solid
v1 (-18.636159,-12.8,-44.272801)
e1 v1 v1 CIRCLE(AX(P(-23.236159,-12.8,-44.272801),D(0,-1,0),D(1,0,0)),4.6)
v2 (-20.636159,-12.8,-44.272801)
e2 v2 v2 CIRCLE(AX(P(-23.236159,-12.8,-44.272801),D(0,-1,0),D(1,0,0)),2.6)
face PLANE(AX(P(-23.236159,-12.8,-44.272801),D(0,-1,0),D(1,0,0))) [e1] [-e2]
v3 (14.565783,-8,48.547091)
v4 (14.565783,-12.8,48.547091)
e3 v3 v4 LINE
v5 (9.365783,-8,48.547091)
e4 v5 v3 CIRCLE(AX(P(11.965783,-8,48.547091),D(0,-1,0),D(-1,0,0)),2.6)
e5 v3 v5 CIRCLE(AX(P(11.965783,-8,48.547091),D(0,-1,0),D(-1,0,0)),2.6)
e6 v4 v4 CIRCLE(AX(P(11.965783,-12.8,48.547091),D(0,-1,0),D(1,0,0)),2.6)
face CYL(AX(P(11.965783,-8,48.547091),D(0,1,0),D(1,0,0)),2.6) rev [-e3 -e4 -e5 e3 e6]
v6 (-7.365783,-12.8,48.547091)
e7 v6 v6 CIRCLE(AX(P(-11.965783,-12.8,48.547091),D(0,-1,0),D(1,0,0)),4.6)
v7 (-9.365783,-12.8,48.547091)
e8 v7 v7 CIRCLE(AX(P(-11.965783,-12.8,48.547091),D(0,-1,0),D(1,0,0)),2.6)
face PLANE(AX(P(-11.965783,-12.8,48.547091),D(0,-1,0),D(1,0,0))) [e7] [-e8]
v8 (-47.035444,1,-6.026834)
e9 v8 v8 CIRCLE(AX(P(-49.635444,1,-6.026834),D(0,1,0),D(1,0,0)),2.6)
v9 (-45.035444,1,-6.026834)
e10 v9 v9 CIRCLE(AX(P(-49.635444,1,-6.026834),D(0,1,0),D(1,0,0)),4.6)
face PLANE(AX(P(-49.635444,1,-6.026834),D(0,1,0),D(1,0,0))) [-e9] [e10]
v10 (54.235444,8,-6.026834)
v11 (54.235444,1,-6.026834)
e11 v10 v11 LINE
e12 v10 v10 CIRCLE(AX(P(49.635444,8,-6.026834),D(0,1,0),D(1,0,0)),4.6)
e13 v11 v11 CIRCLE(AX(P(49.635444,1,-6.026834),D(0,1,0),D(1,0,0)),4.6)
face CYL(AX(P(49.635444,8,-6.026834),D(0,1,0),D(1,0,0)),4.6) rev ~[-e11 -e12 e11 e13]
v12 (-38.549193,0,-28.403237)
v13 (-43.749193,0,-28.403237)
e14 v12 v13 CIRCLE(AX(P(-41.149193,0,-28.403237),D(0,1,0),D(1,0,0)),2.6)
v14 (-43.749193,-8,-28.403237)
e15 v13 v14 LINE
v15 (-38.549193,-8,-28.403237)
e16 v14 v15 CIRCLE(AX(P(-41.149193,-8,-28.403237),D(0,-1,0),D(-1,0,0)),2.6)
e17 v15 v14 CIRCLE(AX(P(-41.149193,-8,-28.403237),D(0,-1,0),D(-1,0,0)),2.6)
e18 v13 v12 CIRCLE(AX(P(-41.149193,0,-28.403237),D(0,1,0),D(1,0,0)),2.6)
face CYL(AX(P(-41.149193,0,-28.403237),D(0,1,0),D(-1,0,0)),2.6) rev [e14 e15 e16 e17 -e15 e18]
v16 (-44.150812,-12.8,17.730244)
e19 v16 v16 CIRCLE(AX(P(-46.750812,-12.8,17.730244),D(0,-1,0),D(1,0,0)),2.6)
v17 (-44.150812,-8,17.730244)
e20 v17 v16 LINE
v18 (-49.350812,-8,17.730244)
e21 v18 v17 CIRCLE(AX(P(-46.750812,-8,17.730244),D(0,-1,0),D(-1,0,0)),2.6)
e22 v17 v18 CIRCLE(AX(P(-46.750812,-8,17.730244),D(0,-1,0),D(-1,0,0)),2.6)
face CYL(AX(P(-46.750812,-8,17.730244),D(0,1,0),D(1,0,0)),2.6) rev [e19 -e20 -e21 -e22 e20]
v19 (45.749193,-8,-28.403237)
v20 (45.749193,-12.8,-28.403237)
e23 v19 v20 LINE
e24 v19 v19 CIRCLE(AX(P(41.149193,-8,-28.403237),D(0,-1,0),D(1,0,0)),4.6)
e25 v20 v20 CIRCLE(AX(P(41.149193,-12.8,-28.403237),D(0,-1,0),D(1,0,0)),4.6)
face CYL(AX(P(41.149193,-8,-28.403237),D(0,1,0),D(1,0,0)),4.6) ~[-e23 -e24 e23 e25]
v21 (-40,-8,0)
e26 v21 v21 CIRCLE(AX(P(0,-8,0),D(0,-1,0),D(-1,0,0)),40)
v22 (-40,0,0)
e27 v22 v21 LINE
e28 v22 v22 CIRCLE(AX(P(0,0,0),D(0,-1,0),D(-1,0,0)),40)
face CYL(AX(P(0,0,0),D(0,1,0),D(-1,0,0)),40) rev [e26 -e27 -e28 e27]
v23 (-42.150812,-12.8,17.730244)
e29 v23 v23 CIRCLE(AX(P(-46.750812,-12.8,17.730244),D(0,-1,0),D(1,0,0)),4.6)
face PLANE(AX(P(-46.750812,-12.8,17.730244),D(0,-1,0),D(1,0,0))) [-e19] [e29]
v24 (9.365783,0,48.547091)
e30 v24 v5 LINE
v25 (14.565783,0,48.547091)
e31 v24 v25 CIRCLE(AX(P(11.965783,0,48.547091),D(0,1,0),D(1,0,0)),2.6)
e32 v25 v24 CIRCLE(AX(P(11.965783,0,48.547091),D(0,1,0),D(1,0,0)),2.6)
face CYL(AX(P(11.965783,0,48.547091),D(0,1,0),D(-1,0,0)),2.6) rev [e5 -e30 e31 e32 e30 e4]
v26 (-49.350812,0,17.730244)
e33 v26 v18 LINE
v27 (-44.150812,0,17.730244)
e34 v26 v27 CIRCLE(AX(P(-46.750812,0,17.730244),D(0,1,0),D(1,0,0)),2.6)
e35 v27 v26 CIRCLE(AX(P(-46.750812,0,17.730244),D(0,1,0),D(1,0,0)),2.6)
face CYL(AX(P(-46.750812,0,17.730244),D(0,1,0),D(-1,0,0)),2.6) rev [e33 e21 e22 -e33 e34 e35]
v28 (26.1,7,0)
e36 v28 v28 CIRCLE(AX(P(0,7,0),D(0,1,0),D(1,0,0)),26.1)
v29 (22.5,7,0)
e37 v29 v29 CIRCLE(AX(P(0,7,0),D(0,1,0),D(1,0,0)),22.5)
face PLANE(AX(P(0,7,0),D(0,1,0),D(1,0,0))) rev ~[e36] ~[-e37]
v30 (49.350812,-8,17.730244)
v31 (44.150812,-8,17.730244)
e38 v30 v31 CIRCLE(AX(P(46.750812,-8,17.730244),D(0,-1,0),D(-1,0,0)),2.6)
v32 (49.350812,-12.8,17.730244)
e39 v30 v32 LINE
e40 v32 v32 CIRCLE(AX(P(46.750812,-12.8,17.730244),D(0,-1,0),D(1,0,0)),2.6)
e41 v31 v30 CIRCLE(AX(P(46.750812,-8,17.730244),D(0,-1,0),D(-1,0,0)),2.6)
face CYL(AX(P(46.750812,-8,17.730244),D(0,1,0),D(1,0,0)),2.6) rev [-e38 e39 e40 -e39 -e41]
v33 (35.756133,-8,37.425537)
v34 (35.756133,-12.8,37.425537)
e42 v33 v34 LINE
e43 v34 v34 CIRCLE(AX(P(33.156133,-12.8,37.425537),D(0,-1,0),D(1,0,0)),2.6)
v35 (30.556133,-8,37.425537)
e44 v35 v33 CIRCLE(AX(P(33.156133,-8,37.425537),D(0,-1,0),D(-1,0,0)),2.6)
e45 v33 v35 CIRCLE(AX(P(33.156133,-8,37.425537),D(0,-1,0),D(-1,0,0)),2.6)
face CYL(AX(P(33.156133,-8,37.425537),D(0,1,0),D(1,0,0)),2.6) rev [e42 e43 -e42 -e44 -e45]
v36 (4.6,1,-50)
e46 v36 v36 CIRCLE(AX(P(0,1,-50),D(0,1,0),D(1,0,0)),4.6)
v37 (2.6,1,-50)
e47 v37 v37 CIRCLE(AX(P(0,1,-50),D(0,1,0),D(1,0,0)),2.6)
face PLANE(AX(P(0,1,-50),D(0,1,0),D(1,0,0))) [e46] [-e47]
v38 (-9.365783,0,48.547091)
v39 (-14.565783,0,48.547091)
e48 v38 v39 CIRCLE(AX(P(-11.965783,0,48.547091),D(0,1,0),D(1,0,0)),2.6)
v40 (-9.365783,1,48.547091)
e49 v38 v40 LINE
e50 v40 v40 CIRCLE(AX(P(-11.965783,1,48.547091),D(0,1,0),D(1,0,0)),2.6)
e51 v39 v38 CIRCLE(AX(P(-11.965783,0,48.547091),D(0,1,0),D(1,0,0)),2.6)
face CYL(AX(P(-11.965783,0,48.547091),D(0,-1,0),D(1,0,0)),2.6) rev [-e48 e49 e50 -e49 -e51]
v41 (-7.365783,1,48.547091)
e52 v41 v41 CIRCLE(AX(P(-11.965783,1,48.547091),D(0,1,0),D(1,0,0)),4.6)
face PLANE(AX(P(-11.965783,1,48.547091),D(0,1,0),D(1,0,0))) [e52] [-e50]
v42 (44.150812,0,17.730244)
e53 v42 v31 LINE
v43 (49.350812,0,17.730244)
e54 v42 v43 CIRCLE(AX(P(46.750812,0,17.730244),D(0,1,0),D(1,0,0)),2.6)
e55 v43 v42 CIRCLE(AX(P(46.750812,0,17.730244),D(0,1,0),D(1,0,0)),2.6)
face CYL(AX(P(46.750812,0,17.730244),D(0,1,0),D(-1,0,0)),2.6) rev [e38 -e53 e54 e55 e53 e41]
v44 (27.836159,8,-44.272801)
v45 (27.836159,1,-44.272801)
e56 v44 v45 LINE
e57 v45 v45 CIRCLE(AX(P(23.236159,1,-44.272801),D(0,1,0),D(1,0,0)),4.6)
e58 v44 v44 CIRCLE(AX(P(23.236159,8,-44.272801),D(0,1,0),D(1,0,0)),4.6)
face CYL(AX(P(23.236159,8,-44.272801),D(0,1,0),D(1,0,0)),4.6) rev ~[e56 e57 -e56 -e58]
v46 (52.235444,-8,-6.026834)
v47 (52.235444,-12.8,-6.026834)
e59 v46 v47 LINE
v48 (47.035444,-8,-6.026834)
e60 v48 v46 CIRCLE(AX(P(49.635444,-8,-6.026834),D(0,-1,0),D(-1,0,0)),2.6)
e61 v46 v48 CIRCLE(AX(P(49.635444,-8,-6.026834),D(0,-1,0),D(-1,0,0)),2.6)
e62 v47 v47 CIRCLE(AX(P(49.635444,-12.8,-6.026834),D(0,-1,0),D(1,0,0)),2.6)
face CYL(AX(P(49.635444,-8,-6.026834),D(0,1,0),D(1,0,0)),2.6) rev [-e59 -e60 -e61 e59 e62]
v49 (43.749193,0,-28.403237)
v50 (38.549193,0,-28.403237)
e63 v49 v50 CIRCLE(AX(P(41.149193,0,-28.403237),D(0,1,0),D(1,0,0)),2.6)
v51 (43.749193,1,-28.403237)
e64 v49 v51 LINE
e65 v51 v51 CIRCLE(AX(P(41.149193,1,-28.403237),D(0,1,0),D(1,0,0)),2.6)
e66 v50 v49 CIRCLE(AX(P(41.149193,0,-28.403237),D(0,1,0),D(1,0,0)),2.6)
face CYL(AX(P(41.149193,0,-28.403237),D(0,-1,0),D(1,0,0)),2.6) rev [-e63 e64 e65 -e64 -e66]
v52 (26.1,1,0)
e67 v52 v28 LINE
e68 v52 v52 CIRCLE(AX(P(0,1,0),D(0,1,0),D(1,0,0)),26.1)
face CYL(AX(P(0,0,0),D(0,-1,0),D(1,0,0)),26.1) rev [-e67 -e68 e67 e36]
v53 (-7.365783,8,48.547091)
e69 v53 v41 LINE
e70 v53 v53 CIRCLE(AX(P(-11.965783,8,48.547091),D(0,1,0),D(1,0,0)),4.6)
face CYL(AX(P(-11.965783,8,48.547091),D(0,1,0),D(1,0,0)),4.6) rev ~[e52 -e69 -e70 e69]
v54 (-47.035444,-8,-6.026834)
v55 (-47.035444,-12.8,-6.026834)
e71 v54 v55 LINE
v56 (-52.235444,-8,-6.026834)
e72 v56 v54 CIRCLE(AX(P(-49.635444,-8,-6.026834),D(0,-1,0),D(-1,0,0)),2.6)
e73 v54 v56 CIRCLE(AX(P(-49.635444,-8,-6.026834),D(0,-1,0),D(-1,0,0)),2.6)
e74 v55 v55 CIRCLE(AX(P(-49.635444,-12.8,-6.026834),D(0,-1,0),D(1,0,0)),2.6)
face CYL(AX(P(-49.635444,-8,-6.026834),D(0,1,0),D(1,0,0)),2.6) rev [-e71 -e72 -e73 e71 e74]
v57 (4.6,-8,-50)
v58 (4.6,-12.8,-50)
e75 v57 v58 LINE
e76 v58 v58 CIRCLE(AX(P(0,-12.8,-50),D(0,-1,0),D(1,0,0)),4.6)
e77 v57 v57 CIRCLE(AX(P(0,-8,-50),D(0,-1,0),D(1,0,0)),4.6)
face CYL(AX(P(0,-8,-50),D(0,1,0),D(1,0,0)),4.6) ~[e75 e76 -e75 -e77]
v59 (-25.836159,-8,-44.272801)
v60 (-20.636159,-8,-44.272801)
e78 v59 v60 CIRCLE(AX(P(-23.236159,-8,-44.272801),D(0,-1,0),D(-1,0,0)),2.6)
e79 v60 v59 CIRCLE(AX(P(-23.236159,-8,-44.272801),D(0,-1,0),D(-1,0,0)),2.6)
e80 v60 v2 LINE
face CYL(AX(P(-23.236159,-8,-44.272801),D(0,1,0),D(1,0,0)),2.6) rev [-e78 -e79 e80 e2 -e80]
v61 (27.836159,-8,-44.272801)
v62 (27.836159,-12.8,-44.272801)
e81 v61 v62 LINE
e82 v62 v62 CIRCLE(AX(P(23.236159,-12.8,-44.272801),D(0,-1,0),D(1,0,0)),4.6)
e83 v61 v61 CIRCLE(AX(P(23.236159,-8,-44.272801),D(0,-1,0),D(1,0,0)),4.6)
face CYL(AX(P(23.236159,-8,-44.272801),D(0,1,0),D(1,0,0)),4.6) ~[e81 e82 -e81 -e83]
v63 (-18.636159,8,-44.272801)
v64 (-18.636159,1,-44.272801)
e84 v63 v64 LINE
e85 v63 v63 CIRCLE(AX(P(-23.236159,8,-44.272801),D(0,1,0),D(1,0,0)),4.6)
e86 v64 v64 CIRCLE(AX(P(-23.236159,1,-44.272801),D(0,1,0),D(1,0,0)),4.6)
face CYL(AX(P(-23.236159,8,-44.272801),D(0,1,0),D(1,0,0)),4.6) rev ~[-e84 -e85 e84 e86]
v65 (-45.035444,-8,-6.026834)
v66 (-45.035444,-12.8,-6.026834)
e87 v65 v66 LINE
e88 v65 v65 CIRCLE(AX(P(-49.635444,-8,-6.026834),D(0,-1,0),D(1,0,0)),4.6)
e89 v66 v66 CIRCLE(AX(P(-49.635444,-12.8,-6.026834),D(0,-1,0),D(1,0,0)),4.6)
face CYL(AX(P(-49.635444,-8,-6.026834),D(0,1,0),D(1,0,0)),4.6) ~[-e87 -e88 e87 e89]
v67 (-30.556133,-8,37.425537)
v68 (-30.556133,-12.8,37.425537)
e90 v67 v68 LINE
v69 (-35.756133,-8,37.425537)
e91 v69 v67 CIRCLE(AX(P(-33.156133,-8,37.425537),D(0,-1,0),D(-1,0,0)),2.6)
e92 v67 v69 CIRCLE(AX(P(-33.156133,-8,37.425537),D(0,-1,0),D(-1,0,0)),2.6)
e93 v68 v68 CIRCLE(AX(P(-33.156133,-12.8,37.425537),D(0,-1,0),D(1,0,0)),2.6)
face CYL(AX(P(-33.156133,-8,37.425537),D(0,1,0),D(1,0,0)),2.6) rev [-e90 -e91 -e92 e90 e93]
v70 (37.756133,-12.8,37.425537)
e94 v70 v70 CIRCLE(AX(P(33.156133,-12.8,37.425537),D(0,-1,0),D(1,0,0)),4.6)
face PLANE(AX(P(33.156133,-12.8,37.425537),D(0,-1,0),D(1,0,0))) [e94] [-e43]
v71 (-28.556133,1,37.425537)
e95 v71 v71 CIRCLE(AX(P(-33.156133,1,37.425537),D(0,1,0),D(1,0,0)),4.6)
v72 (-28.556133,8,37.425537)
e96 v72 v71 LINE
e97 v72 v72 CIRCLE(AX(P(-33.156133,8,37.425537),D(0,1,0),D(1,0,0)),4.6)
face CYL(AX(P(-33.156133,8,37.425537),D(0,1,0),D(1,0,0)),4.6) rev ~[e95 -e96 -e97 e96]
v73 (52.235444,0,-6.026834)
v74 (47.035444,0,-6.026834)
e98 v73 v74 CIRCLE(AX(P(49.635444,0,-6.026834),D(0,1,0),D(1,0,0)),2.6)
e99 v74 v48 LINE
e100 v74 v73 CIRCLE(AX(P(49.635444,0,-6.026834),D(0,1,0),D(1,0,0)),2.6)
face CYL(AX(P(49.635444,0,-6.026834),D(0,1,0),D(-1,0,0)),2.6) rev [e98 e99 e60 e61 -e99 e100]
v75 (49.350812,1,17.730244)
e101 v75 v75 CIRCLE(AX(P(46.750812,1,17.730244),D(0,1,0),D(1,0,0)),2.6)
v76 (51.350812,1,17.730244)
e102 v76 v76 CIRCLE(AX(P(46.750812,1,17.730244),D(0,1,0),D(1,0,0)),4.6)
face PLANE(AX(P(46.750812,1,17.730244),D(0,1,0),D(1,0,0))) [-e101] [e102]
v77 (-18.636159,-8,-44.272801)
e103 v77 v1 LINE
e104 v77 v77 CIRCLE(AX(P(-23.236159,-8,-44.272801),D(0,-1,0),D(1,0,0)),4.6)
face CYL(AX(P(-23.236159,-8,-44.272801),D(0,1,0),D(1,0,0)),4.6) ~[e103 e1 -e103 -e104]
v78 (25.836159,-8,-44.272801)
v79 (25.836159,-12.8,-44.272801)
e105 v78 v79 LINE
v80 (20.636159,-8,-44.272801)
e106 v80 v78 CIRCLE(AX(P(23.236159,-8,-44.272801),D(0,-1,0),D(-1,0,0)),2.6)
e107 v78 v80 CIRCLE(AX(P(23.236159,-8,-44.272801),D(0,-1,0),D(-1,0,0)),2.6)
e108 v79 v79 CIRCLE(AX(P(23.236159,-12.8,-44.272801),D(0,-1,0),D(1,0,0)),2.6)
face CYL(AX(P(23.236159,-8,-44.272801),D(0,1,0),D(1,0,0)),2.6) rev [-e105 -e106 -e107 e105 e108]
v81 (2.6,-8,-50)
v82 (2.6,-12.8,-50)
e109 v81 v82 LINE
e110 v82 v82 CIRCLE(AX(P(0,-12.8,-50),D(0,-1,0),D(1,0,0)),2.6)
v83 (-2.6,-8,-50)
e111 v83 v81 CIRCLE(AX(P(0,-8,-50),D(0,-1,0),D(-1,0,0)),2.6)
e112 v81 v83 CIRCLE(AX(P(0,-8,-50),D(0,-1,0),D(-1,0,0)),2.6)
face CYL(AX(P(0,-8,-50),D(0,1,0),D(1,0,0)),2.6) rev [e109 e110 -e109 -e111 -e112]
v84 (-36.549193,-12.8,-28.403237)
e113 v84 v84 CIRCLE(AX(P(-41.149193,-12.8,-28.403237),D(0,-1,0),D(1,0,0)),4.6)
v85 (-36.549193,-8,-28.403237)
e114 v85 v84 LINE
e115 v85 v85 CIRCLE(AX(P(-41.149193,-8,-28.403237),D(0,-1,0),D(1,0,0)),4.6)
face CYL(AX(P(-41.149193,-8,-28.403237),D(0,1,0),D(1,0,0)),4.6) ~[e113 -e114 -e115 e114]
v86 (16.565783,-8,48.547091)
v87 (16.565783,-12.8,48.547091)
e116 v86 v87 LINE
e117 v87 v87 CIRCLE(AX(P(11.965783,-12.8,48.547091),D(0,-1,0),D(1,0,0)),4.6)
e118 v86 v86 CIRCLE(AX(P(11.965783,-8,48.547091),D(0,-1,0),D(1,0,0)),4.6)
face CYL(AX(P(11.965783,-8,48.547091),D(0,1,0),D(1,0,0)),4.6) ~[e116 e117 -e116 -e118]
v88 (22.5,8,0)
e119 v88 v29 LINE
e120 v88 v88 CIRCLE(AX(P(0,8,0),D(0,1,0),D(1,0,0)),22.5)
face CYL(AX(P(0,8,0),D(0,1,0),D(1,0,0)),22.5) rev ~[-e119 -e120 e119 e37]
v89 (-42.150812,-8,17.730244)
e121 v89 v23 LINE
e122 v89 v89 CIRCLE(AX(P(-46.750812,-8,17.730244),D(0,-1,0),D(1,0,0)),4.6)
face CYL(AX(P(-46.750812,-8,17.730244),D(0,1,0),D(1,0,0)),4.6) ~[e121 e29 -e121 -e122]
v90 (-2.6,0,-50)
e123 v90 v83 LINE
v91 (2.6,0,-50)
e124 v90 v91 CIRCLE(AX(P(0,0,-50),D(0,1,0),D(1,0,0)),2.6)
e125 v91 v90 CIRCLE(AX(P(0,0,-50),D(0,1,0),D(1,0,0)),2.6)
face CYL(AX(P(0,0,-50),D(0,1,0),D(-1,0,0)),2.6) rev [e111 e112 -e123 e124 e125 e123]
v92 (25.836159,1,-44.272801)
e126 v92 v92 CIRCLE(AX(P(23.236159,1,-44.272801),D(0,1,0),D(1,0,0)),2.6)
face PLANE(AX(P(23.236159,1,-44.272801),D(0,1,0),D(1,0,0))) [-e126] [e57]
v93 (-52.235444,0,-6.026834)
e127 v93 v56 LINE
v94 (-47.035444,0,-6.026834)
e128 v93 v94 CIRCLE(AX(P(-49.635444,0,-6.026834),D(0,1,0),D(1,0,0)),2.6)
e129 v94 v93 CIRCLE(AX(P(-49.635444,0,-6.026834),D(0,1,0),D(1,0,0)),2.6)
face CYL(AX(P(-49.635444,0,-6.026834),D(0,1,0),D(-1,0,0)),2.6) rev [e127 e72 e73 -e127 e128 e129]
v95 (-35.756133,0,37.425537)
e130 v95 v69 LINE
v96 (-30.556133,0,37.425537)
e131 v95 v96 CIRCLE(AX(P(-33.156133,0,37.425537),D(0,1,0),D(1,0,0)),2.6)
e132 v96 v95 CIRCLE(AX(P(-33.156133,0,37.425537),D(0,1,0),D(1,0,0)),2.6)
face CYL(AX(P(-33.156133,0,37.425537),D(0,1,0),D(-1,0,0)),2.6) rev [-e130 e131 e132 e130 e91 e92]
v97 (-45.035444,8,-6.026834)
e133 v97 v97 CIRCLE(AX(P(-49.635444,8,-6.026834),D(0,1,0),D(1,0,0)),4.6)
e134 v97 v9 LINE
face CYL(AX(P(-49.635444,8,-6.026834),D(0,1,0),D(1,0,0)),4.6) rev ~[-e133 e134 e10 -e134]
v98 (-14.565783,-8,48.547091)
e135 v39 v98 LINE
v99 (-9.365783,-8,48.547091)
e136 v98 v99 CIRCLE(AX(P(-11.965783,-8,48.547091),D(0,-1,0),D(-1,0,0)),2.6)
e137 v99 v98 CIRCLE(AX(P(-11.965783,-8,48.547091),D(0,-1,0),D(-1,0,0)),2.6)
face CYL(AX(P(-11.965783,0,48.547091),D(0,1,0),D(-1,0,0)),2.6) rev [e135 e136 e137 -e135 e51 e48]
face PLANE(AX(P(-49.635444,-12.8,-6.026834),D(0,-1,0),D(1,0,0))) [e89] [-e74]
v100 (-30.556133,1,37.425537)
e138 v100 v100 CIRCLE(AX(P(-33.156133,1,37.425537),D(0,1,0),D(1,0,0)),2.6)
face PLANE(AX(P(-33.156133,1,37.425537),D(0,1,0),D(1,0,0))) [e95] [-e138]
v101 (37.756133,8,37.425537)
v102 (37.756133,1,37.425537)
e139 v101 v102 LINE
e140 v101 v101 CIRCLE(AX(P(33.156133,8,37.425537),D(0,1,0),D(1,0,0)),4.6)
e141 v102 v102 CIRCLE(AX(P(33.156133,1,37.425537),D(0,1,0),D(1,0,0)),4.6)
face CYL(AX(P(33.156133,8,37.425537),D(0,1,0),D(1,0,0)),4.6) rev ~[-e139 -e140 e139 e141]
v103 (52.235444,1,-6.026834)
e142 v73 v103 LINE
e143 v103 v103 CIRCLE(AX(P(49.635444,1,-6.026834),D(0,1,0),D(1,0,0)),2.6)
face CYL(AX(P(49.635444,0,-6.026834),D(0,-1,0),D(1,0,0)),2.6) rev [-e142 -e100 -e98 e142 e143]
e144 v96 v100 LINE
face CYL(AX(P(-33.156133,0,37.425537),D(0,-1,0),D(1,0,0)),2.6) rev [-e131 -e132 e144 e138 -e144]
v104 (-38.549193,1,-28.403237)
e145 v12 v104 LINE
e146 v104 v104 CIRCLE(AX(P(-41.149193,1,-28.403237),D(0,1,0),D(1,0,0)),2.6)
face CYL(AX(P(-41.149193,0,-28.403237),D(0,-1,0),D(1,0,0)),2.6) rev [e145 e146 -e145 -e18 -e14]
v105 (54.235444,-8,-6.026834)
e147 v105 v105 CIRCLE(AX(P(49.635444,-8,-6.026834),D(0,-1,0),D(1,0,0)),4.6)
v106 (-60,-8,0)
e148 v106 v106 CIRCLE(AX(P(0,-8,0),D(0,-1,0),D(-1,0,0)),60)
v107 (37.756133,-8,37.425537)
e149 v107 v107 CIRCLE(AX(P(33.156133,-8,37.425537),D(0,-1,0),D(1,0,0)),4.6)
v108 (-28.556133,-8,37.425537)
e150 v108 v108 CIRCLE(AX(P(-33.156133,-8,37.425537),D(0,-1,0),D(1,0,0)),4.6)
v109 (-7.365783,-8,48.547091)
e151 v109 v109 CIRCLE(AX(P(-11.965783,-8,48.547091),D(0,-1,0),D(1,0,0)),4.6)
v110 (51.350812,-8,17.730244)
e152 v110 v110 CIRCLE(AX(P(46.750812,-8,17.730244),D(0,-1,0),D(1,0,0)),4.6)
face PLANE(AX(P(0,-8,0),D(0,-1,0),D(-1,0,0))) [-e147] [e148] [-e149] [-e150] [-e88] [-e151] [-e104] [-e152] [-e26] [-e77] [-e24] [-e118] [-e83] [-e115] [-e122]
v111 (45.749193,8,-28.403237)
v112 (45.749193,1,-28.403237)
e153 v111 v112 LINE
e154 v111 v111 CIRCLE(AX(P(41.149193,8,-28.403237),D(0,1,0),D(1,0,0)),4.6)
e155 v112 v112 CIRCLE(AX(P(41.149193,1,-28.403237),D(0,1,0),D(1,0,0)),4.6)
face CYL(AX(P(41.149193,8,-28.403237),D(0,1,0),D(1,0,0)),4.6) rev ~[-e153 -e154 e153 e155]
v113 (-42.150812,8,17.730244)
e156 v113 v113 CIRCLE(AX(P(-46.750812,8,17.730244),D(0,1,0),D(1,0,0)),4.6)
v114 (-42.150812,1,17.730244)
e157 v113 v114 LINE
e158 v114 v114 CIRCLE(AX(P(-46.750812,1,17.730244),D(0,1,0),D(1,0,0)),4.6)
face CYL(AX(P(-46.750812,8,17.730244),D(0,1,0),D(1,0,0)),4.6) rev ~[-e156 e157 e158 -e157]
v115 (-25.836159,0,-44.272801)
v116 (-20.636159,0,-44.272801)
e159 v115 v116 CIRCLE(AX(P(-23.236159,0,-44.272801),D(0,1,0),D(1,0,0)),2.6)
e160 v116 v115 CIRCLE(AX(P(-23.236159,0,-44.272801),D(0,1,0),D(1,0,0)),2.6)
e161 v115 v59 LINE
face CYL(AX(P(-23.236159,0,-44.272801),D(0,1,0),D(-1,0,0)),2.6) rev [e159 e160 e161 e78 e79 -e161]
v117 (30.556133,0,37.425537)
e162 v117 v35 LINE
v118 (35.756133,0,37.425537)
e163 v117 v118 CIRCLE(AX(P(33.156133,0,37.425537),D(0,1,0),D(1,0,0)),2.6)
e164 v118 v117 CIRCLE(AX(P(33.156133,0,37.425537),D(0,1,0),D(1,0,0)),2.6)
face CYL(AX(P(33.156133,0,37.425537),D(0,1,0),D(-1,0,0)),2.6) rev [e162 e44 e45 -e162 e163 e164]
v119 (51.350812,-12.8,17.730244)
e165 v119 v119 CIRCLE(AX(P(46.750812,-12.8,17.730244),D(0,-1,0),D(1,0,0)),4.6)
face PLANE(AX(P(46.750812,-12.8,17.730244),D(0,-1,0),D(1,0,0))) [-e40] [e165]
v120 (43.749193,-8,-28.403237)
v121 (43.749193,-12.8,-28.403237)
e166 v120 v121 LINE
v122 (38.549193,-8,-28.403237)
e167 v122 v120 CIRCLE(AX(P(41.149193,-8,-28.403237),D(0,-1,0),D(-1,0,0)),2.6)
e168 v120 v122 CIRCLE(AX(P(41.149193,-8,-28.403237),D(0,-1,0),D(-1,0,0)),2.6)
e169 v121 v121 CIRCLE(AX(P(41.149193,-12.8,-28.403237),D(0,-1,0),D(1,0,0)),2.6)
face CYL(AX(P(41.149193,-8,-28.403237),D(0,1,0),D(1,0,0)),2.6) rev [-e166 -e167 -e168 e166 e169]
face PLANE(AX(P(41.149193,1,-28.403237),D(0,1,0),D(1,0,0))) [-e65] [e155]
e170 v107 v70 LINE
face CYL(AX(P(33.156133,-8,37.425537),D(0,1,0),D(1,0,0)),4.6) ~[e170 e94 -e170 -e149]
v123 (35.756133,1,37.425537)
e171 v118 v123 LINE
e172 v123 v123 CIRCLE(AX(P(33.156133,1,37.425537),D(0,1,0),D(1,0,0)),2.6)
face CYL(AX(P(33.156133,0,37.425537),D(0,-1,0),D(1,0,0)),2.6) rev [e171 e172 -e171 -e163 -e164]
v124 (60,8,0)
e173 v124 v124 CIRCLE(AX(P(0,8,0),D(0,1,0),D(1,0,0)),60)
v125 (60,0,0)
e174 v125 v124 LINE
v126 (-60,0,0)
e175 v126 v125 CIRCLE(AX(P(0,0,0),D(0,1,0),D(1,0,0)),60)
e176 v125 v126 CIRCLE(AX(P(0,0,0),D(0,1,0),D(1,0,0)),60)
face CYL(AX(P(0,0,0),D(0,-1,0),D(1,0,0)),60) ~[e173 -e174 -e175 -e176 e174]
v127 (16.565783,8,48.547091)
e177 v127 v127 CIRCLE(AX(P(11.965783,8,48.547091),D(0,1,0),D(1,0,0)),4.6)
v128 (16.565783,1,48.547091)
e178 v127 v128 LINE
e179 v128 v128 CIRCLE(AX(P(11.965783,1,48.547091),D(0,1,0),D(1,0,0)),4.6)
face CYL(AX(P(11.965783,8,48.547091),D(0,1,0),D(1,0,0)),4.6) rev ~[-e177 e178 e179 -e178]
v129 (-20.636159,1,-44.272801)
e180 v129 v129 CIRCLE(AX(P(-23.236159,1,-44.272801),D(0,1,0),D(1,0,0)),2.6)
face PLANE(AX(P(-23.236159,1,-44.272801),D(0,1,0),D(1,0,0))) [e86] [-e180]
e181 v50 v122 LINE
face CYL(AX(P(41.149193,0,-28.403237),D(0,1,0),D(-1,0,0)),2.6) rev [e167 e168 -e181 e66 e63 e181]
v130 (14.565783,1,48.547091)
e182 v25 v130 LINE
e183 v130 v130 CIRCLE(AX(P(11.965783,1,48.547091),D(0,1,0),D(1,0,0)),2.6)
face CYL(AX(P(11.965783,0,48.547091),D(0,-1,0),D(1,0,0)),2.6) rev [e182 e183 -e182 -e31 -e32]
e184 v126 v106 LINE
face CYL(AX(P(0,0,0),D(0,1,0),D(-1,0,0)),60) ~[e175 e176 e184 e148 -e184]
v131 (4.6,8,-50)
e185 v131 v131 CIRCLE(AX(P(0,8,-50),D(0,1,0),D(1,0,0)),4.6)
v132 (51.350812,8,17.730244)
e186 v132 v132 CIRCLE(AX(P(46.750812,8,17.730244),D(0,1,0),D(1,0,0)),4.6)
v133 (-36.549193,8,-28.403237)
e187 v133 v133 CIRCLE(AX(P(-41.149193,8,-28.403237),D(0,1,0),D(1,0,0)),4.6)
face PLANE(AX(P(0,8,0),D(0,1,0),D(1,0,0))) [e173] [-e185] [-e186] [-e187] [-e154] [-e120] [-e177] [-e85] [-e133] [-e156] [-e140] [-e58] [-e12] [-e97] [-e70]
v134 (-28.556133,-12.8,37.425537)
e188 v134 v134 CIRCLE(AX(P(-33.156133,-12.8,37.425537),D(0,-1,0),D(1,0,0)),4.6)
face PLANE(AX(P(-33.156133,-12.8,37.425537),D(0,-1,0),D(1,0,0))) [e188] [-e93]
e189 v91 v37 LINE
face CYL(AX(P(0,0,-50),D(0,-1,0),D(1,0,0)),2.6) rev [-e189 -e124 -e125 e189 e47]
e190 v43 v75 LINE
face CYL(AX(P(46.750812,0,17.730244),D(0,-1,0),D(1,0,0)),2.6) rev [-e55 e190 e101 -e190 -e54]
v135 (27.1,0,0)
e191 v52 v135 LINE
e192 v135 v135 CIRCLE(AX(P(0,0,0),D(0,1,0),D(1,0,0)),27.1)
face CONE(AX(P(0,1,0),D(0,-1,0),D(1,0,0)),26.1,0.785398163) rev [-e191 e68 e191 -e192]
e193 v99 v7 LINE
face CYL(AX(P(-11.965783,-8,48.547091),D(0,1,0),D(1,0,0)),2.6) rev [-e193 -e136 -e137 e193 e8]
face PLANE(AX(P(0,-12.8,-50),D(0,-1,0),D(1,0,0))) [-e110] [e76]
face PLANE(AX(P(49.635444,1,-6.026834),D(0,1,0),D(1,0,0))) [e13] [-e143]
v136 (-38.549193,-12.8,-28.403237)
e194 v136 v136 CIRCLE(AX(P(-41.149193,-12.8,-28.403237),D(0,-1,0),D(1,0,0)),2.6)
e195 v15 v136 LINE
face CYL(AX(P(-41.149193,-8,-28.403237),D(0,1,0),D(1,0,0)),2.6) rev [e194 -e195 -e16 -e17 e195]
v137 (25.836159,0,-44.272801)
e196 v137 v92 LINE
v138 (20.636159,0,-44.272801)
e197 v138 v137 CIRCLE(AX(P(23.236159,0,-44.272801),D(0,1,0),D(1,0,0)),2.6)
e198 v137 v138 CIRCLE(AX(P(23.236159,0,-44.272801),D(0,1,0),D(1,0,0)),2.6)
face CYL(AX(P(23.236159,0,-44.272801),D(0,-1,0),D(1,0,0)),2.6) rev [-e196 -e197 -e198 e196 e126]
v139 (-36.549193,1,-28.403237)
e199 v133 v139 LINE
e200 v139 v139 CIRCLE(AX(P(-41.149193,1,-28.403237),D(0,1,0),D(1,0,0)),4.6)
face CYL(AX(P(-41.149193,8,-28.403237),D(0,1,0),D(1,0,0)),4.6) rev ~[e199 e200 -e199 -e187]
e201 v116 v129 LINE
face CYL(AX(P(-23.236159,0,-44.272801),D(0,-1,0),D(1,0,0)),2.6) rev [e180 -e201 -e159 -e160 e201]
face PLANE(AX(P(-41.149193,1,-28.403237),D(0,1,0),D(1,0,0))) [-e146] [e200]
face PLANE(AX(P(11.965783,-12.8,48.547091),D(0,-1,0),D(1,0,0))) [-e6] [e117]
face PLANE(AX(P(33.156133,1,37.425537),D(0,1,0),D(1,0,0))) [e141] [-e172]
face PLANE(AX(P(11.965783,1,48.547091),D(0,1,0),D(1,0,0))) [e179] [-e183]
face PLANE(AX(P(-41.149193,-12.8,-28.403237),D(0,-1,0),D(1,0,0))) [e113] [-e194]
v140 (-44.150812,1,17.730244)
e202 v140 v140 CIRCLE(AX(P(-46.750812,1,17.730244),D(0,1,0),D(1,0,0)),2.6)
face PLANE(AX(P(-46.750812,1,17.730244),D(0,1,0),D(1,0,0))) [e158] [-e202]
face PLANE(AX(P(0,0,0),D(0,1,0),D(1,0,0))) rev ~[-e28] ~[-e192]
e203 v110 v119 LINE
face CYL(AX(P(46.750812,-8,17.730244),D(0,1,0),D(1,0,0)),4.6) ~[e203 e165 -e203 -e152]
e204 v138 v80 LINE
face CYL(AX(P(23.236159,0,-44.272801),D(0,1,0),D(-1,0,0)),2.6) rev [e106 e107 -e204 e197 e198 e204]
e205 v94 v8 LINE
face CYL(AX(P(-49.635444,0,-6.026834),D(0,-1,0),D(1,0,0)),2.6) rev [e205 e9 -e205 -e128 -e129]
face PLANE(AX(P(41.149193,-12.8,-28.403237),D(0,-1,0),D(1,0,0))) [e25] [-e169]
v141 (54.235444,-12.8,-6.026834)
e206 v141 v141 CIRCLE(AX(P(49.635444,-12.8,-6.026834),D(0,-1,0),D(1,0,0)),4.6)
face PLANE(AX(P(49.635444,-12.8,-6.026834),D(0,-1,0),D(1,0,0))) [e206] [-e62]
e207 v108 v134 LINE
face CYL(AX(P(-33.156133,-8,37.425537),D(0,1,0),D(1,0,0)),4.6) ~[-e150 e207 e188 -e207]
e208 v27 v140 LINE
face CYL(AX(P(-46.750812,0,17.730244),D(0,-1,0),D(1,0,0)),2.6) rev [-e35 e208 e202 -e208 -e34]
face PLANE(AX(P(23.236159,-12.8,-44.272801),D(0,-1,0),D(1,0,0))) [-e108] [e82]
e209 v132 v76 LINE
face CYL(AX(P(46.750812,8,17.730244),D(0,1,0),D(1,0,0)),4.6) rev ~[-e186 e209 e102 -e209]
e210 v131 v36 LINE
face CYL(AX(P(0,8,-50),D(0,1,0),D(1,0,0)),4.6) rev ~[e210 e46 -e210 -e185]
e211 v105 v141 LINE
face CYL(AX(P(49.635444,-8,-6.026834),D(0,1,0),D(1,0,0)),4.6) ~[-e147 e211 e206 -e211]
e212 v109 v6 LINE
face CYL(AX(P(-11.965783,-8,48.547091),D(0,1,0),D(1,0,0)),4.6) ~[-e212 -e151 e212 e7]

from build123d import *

# Parameters (mm, degrees)
SKETCH1_R           = 60
SKETCH1_R_2         = 26.1
SKETCH1_R_3         = 2.6
BOSS_EXTRUDE1_DEPTH = 8
SKETCH2_R           = 60
SKETCH2_R_2         = 40
SKETCH2_R_3         = 2.6
BOSS_EXTRUDE2_DEPTH = 8
SKETCH3_R           = 4.6
SKETCH3_R_2         = 2.6
BOSS_EXTRUDE3_DEPTH = 4.8
SKETCH4_R           = 26.1
SKETCH4_R_2         = 22.5
BOSS_EXTRUDE4_DEPTH = 1
CHAMFER1_SIZE       = 1
SKETCH5_R           = 4.6
SKETCH5_R_2         = 2.6
CUT_EXTRUDE1_DEPTH  = 7


with BuildPart() as part:
    # Sketch1 → Boss-Extrude1 (new body)
    with BuildSketch(Plane(origin=(0, 0, 0), x_dir=(1, 0, 0), z_dir=(0, 1, 0))):
        Circle(SKETCH1_R)
        Circle(SKETCH1_R_2, mode=Mode.SUBTRACT)
        with Locations((0, 50)):
            Circle(SKETCH1_R_3, mode=Mode.SUBTRACT)
        with Locations((23.236158602, 44.272801283)):
            Circle(SKETCH1_R_3, mode=Mode.SUBTRACT)
        with Locations((41.149193295, 28.403237337)):
            Circle(SKETCH1_R_3, mode=Mode.SUBTRACT)
        with Locations((49.635443705, 6.026834013)):
            Circle(SKETCH1_R_3, mode=Mode.SUBTRACT)
        with Locations((46.750812134, -17.730244352)):
            Circle(SKETCH1_R_3, mode=Mode.SUBTRACT)
        with Locations((33.156132912, -37.425537409)):
            Circle(SKETCH1_R_3, mode=Mode.SUBTRACT)
        with Locations((11.965783214, -48.547090871)):
            Circle(SKETCH1_R_3, mode=Mode.SUBTRACT)
        with Locations((-11.965783214, -48.547090871)):
            Circle(SKETCH1_R_3, mode=Mode.SUBTRACT)
        with Locations((-33.156132912, -37.425537409)):
            Circle(SKETCH1_R_3, mode=Mode.SUBTRACT)
        with Locations((-46.750812134, -17.730244352)):
            Circle(SKETCH1_R_3, mode=Mode.SUBTRACT)
        with Locations((-49.635443705, 6.026834013)):
            Circle(SKETCH1_R_3, mode=Mode.SUBTRACT)
        with Locations((-41.149193295, 28.403237337)):
            Circle(SKETCH1_R_3, mode=Mode.SUBTRACT)
        with Locations((-23.236158602, 44.272801283)):
            Circle(SKETCH1_R_3, mode=Mode.SUBTRACT)
    extrude(amount=BOSS_EXTRUDE1_DEPTH)

    # Sketch2 → Boss-Extrude2 (add)
    with BuildSketch(Plane(origin=(0, 0, 0), x_dir=(-1, 0, 0), z_dir=(0, -1, 0))):
        Circle(SKETCH2_R)
        Circle(SKETCH2_R_2, mode=Mode.SUBTRACT)
        with Locations((23.236158602, 44.272801283)):
            Circle(SKETCH2_R_3, mode=Mode.SUBTRACT)
        with Locations((41.149193295, 28.403237337)):
            Circle(SKETCH2_R_3, mode=Mode.SUBTRACT)
        with Locations((49.635443705, 6.026834013)):
            Circle(SKETCH2_R_3, mode=Mode.SUBTRACT)
        with Locations((46.750812134, -17.730244352)):
            Circle(SKETCH2_R_3, mode=Mode.SUBTRACT)
        with Locations((33.156132912, -37.425537409)):
            Circle(SKETCH2_R_3, mode=Mode.SUBTRACT)
        with Locations((11.965783214, -48.547090871)):
            Circle(SKETCH2_R_3, mode=Mode.SUBTRACT)
        with Locations((-11.965783214, -48.547090871)):
            Circle(SKETCH2_R_3, mode=Mode.SUBTRACT)
        with Locations((-33.156132912, -37.425537409)):
            Circle(SKETCH2_R_3, mode=Mode.SUBTRACT)
        with Locations((-46.750812134, -17.730244352)):
            Circle(SKETCH2_R_3, mode=Mode.SUBTRACT)
        with Locations((-49.635443705, 6.026834013)):
            Circle(SKETCH2_R_3, mode=Mode.SUBTRACT)
        with Locations((-41.149193295, 28.403237337)):
            Circle(SKETCH2_R_3, mode=Mode.SUBTRACT)
        with Locations((-23.236158602, 44.272801283)):
            Circle(SKETCH2_R_3, mode=Mode.SUBTRACT)
        with Locations((0, 50)):
            Circle(SKETCH2_R_3, mode=Mode.SUBTRACT)
    extrude(amount=BOSS_EXTRUDE2_DEPTH)

    # Sketch3 → Boss-Extrude3 (add)
    with BuildSketch(Plane.XZ.offset(8)):
        with Locations((0, -50)):
            Circle(SKETCH3_R)
        with Locations((0, -50)):
            Circle(SKETCH3_R_2, mode=Mode.SUBTRACT)
        with Locations((41.149193295, -28.403237337)):
            Circle(SKETCH3_R)
        with Locations((41.149193295, -28.403237337)):
            Circle(SKETCH3_R_2, mode=Mode.SUBTRACT)
        with Locations((46.750812134, 17.730244352)):
            Circle(SKETCH3_R)
        with Locations((46.750812134, 17.730244352)):
            Circle(SKETCH3_R_2, mode=Mode.SUBTRACT)
        with Locations((11.965783214, 48.547090871)):
            Circle(SKETCH3_R)
        with Locations((11.965783214, 48.547090871)):
            Circle(SKETCH3_R_2, mode=Mode.SUBTRACT)
        with Locations((-33.156132912, 37.425537409)):
            Circle(SKETCH3_R)
        with Locations((-33.156132912, 37.425537409)):
            Circle(SKETCH3_R_2, mode=Mode.SUBTRACT)
        with Locations((-49.635443705, -6.026834013)):
            Circle(SKETCH3_R)
        with Locations((-49.635443705, -6.026834013)):
            Circle(SKETCH3_R_2, mode=Mode.SUBTRACT)
        with Locations((-23.236158602, -44.272801283)):
            Circle(SKETCH3_R)
        with Locations((-23.236158602, -44.272801283)):
            Circle(SKETCH3_R_2, mode=Mode.SUBTRACT)
        with Locations((-41.149193295, -28.403237337)):
            Circle(SKETCH3_R)
        with Locations((-41.149193295, -28.403237337)):
            Circle(SKETCH3_R_2, mode=Mode.SUBTRACT)
        with Locations((-46.750812134, 17.730244352)):
            Circle(SKETCH3_R)
        with Locations((-46.750812134, 17.730244352)):
            Circle(SKETCH3_R_2, mode=Mode.SUBTRACT)
        with Locations((-11.965783214, 48.547090871)):
            Circle(SKETCH3_R)
        with Locations((-11.965783214, 48.547090871)):
            Circle(SKETCH3_R_2, mode=Mode.SUBTRACT)
        with Locations((33.156132912, 37.425537409)):
            Circle(SKETCH3_R)
        with Locations((33.156132912, 37.425537409)):
            Circle(SKETCH3_R_2, mode=Mode.SUBTRACT)
        with Locations((49.635443705, -6.026834013)):
            Circle(SKETCH3_R)
        with Locations((49.635443705, -6.026834013)):
            Circle(SKETCH3_R_2, mode=Mode.SUBTRACT)
        with Locations((23.236158602, -44.272801283)):
            Circle(SKETCH3_R)
        with Locations((23.236158602, -44.272801283)):
            Circle(SKETCH3_R_2, mode=Mode.SUBTRACT)
    extrude(amount=BOSS_EXTRUDE3_DEPTH)

    # Sketch4 → Boss-Extrude4 (add)
    with BuildSketch(Plane(origin=(0, 8, 0), x_dir=(1, 0, 0), z_dir=(0, 1, 0))):
        Circle(SKETCH4_R)
        Circle(SKETCH4_R_2, mode=Mode.SUBTRACT)
    extrude(amount=-BOSS_EXTRUDE4_DEPTH)

    # Chamfer1
    chamfer1_edges = [part.edges().sort_by_distance(p)[0] for p in [
        (-26.1, 0, 0),
    ]]
    chamfer(chamfer1_edges, length=CHAMFER1_SIZE)

    # Sketch5 → Cut-Extrude1 (cut)
    with BuildSketch(Plane(origin=(0, 8, 0), x_dir=(1, 0, 0), z_dir=(0, 1, 0))):
        with Locations((-23.236158602, 44.272801283)):
            Circle(SKETCH5_R)
        with Locations((-23.236158602, 44.272801283)):
            Circle(SKETCH5_R_2, mode=Mode.SUBTRACT)
        with Locations((-49.635443705, 6.026834013)):
            Circle(SKETCH5_R)
        with Locations((-49.635443705, 6.026834013)):
            Circle(SKETCH5_R_2, mode=Mode.SUBTRACT)
        with Locations((-33.156132912, -37.425537409)):
            Circle(SKETCH5_R)
        with Locations((-33.156132912, -37.425537409)):
            Circle(SKETCH5_R_2, mode=Mode.SUBTRACT)
        with Locations((11.965783214, -48.547090871)):
            Circle(SKETCH5_R)
        with Locations((11.965783214, -48.547090871)):
            Circle(SKETCH5_R_2, mode=Mode.SUBTRACT)
        with Locations((46.750812134, -17.730244352)):
            Circle(SKETCH5_R)
        with Locations((46.750812134, -17.730244352)):
            Circle(SKETCH5_R_2, mode=Mode.SUBTRACT)
        with Locations((41.149193295, 28.403237337)):
            Circle(SKETCH5_R)
        with Locations((41.149193295, 28.403237337)):
            Circle(SKETCH5_R_2, mode=Mode.SUBTRACT)
        with Locations((0, 50)):
            Circle(SKETCH5_R)
        with Locations((0, 50)):
            Circle(SKETCH5_R_2, mode=Mode.SUBTRACT)
        with Locations((23.236158602, 44.272801283)):
            Circle(SKETCH5_R)
        with Locations((23.236158602, 44.272801283)):
            Circle(SKETCH5_R_2, mode=Mode.SUBTRACT)
        with Locations((49.635443705, 6.026834013)):
            Circle(SKETCH5_R)
        with Locations((49.635443705, 6.026834013)):
            Circle(SKETCH5_R_2, mode=Mode.SUBTRACT)
        with Locations((33.156132912, -37.425537409)):
            Circle(SKETCH5_R)
        with Locations((33.156132912, -37.425537409)):
            Circle(SKETCH5_R_2, mode=Mode.SUBTRACT)
        with Locations((-11.965783214, -48.547090871)):
            Circle(SKETCH5_R)
        with Locations((-11.965783214, -48.547090871)):
            Circle(SKETCH5_R_2, mode=Mode.SUBTRACT)
        with Locations((-46.750812134, -17.730244352)):
            Circle(SKETCH5_R)
        with Locations((-46.750812134, -17.730244352)):
            Circle(SKETCH5_R_2, mode=Mode.SUBTRACT)
        with Locations((-41.149193295, 28.403237337)):
            Circle(SKETCH5_R)
        with Locations((-41.149193295, 28.403237337)):
            Circle(SKETCH5_R_2, mode=Mode.SUBTRACT)
    extrude(amount=-CUT_EXTRUDE1_DEPTH, mode=Mode.SUBTRACT)


solid = part.part
